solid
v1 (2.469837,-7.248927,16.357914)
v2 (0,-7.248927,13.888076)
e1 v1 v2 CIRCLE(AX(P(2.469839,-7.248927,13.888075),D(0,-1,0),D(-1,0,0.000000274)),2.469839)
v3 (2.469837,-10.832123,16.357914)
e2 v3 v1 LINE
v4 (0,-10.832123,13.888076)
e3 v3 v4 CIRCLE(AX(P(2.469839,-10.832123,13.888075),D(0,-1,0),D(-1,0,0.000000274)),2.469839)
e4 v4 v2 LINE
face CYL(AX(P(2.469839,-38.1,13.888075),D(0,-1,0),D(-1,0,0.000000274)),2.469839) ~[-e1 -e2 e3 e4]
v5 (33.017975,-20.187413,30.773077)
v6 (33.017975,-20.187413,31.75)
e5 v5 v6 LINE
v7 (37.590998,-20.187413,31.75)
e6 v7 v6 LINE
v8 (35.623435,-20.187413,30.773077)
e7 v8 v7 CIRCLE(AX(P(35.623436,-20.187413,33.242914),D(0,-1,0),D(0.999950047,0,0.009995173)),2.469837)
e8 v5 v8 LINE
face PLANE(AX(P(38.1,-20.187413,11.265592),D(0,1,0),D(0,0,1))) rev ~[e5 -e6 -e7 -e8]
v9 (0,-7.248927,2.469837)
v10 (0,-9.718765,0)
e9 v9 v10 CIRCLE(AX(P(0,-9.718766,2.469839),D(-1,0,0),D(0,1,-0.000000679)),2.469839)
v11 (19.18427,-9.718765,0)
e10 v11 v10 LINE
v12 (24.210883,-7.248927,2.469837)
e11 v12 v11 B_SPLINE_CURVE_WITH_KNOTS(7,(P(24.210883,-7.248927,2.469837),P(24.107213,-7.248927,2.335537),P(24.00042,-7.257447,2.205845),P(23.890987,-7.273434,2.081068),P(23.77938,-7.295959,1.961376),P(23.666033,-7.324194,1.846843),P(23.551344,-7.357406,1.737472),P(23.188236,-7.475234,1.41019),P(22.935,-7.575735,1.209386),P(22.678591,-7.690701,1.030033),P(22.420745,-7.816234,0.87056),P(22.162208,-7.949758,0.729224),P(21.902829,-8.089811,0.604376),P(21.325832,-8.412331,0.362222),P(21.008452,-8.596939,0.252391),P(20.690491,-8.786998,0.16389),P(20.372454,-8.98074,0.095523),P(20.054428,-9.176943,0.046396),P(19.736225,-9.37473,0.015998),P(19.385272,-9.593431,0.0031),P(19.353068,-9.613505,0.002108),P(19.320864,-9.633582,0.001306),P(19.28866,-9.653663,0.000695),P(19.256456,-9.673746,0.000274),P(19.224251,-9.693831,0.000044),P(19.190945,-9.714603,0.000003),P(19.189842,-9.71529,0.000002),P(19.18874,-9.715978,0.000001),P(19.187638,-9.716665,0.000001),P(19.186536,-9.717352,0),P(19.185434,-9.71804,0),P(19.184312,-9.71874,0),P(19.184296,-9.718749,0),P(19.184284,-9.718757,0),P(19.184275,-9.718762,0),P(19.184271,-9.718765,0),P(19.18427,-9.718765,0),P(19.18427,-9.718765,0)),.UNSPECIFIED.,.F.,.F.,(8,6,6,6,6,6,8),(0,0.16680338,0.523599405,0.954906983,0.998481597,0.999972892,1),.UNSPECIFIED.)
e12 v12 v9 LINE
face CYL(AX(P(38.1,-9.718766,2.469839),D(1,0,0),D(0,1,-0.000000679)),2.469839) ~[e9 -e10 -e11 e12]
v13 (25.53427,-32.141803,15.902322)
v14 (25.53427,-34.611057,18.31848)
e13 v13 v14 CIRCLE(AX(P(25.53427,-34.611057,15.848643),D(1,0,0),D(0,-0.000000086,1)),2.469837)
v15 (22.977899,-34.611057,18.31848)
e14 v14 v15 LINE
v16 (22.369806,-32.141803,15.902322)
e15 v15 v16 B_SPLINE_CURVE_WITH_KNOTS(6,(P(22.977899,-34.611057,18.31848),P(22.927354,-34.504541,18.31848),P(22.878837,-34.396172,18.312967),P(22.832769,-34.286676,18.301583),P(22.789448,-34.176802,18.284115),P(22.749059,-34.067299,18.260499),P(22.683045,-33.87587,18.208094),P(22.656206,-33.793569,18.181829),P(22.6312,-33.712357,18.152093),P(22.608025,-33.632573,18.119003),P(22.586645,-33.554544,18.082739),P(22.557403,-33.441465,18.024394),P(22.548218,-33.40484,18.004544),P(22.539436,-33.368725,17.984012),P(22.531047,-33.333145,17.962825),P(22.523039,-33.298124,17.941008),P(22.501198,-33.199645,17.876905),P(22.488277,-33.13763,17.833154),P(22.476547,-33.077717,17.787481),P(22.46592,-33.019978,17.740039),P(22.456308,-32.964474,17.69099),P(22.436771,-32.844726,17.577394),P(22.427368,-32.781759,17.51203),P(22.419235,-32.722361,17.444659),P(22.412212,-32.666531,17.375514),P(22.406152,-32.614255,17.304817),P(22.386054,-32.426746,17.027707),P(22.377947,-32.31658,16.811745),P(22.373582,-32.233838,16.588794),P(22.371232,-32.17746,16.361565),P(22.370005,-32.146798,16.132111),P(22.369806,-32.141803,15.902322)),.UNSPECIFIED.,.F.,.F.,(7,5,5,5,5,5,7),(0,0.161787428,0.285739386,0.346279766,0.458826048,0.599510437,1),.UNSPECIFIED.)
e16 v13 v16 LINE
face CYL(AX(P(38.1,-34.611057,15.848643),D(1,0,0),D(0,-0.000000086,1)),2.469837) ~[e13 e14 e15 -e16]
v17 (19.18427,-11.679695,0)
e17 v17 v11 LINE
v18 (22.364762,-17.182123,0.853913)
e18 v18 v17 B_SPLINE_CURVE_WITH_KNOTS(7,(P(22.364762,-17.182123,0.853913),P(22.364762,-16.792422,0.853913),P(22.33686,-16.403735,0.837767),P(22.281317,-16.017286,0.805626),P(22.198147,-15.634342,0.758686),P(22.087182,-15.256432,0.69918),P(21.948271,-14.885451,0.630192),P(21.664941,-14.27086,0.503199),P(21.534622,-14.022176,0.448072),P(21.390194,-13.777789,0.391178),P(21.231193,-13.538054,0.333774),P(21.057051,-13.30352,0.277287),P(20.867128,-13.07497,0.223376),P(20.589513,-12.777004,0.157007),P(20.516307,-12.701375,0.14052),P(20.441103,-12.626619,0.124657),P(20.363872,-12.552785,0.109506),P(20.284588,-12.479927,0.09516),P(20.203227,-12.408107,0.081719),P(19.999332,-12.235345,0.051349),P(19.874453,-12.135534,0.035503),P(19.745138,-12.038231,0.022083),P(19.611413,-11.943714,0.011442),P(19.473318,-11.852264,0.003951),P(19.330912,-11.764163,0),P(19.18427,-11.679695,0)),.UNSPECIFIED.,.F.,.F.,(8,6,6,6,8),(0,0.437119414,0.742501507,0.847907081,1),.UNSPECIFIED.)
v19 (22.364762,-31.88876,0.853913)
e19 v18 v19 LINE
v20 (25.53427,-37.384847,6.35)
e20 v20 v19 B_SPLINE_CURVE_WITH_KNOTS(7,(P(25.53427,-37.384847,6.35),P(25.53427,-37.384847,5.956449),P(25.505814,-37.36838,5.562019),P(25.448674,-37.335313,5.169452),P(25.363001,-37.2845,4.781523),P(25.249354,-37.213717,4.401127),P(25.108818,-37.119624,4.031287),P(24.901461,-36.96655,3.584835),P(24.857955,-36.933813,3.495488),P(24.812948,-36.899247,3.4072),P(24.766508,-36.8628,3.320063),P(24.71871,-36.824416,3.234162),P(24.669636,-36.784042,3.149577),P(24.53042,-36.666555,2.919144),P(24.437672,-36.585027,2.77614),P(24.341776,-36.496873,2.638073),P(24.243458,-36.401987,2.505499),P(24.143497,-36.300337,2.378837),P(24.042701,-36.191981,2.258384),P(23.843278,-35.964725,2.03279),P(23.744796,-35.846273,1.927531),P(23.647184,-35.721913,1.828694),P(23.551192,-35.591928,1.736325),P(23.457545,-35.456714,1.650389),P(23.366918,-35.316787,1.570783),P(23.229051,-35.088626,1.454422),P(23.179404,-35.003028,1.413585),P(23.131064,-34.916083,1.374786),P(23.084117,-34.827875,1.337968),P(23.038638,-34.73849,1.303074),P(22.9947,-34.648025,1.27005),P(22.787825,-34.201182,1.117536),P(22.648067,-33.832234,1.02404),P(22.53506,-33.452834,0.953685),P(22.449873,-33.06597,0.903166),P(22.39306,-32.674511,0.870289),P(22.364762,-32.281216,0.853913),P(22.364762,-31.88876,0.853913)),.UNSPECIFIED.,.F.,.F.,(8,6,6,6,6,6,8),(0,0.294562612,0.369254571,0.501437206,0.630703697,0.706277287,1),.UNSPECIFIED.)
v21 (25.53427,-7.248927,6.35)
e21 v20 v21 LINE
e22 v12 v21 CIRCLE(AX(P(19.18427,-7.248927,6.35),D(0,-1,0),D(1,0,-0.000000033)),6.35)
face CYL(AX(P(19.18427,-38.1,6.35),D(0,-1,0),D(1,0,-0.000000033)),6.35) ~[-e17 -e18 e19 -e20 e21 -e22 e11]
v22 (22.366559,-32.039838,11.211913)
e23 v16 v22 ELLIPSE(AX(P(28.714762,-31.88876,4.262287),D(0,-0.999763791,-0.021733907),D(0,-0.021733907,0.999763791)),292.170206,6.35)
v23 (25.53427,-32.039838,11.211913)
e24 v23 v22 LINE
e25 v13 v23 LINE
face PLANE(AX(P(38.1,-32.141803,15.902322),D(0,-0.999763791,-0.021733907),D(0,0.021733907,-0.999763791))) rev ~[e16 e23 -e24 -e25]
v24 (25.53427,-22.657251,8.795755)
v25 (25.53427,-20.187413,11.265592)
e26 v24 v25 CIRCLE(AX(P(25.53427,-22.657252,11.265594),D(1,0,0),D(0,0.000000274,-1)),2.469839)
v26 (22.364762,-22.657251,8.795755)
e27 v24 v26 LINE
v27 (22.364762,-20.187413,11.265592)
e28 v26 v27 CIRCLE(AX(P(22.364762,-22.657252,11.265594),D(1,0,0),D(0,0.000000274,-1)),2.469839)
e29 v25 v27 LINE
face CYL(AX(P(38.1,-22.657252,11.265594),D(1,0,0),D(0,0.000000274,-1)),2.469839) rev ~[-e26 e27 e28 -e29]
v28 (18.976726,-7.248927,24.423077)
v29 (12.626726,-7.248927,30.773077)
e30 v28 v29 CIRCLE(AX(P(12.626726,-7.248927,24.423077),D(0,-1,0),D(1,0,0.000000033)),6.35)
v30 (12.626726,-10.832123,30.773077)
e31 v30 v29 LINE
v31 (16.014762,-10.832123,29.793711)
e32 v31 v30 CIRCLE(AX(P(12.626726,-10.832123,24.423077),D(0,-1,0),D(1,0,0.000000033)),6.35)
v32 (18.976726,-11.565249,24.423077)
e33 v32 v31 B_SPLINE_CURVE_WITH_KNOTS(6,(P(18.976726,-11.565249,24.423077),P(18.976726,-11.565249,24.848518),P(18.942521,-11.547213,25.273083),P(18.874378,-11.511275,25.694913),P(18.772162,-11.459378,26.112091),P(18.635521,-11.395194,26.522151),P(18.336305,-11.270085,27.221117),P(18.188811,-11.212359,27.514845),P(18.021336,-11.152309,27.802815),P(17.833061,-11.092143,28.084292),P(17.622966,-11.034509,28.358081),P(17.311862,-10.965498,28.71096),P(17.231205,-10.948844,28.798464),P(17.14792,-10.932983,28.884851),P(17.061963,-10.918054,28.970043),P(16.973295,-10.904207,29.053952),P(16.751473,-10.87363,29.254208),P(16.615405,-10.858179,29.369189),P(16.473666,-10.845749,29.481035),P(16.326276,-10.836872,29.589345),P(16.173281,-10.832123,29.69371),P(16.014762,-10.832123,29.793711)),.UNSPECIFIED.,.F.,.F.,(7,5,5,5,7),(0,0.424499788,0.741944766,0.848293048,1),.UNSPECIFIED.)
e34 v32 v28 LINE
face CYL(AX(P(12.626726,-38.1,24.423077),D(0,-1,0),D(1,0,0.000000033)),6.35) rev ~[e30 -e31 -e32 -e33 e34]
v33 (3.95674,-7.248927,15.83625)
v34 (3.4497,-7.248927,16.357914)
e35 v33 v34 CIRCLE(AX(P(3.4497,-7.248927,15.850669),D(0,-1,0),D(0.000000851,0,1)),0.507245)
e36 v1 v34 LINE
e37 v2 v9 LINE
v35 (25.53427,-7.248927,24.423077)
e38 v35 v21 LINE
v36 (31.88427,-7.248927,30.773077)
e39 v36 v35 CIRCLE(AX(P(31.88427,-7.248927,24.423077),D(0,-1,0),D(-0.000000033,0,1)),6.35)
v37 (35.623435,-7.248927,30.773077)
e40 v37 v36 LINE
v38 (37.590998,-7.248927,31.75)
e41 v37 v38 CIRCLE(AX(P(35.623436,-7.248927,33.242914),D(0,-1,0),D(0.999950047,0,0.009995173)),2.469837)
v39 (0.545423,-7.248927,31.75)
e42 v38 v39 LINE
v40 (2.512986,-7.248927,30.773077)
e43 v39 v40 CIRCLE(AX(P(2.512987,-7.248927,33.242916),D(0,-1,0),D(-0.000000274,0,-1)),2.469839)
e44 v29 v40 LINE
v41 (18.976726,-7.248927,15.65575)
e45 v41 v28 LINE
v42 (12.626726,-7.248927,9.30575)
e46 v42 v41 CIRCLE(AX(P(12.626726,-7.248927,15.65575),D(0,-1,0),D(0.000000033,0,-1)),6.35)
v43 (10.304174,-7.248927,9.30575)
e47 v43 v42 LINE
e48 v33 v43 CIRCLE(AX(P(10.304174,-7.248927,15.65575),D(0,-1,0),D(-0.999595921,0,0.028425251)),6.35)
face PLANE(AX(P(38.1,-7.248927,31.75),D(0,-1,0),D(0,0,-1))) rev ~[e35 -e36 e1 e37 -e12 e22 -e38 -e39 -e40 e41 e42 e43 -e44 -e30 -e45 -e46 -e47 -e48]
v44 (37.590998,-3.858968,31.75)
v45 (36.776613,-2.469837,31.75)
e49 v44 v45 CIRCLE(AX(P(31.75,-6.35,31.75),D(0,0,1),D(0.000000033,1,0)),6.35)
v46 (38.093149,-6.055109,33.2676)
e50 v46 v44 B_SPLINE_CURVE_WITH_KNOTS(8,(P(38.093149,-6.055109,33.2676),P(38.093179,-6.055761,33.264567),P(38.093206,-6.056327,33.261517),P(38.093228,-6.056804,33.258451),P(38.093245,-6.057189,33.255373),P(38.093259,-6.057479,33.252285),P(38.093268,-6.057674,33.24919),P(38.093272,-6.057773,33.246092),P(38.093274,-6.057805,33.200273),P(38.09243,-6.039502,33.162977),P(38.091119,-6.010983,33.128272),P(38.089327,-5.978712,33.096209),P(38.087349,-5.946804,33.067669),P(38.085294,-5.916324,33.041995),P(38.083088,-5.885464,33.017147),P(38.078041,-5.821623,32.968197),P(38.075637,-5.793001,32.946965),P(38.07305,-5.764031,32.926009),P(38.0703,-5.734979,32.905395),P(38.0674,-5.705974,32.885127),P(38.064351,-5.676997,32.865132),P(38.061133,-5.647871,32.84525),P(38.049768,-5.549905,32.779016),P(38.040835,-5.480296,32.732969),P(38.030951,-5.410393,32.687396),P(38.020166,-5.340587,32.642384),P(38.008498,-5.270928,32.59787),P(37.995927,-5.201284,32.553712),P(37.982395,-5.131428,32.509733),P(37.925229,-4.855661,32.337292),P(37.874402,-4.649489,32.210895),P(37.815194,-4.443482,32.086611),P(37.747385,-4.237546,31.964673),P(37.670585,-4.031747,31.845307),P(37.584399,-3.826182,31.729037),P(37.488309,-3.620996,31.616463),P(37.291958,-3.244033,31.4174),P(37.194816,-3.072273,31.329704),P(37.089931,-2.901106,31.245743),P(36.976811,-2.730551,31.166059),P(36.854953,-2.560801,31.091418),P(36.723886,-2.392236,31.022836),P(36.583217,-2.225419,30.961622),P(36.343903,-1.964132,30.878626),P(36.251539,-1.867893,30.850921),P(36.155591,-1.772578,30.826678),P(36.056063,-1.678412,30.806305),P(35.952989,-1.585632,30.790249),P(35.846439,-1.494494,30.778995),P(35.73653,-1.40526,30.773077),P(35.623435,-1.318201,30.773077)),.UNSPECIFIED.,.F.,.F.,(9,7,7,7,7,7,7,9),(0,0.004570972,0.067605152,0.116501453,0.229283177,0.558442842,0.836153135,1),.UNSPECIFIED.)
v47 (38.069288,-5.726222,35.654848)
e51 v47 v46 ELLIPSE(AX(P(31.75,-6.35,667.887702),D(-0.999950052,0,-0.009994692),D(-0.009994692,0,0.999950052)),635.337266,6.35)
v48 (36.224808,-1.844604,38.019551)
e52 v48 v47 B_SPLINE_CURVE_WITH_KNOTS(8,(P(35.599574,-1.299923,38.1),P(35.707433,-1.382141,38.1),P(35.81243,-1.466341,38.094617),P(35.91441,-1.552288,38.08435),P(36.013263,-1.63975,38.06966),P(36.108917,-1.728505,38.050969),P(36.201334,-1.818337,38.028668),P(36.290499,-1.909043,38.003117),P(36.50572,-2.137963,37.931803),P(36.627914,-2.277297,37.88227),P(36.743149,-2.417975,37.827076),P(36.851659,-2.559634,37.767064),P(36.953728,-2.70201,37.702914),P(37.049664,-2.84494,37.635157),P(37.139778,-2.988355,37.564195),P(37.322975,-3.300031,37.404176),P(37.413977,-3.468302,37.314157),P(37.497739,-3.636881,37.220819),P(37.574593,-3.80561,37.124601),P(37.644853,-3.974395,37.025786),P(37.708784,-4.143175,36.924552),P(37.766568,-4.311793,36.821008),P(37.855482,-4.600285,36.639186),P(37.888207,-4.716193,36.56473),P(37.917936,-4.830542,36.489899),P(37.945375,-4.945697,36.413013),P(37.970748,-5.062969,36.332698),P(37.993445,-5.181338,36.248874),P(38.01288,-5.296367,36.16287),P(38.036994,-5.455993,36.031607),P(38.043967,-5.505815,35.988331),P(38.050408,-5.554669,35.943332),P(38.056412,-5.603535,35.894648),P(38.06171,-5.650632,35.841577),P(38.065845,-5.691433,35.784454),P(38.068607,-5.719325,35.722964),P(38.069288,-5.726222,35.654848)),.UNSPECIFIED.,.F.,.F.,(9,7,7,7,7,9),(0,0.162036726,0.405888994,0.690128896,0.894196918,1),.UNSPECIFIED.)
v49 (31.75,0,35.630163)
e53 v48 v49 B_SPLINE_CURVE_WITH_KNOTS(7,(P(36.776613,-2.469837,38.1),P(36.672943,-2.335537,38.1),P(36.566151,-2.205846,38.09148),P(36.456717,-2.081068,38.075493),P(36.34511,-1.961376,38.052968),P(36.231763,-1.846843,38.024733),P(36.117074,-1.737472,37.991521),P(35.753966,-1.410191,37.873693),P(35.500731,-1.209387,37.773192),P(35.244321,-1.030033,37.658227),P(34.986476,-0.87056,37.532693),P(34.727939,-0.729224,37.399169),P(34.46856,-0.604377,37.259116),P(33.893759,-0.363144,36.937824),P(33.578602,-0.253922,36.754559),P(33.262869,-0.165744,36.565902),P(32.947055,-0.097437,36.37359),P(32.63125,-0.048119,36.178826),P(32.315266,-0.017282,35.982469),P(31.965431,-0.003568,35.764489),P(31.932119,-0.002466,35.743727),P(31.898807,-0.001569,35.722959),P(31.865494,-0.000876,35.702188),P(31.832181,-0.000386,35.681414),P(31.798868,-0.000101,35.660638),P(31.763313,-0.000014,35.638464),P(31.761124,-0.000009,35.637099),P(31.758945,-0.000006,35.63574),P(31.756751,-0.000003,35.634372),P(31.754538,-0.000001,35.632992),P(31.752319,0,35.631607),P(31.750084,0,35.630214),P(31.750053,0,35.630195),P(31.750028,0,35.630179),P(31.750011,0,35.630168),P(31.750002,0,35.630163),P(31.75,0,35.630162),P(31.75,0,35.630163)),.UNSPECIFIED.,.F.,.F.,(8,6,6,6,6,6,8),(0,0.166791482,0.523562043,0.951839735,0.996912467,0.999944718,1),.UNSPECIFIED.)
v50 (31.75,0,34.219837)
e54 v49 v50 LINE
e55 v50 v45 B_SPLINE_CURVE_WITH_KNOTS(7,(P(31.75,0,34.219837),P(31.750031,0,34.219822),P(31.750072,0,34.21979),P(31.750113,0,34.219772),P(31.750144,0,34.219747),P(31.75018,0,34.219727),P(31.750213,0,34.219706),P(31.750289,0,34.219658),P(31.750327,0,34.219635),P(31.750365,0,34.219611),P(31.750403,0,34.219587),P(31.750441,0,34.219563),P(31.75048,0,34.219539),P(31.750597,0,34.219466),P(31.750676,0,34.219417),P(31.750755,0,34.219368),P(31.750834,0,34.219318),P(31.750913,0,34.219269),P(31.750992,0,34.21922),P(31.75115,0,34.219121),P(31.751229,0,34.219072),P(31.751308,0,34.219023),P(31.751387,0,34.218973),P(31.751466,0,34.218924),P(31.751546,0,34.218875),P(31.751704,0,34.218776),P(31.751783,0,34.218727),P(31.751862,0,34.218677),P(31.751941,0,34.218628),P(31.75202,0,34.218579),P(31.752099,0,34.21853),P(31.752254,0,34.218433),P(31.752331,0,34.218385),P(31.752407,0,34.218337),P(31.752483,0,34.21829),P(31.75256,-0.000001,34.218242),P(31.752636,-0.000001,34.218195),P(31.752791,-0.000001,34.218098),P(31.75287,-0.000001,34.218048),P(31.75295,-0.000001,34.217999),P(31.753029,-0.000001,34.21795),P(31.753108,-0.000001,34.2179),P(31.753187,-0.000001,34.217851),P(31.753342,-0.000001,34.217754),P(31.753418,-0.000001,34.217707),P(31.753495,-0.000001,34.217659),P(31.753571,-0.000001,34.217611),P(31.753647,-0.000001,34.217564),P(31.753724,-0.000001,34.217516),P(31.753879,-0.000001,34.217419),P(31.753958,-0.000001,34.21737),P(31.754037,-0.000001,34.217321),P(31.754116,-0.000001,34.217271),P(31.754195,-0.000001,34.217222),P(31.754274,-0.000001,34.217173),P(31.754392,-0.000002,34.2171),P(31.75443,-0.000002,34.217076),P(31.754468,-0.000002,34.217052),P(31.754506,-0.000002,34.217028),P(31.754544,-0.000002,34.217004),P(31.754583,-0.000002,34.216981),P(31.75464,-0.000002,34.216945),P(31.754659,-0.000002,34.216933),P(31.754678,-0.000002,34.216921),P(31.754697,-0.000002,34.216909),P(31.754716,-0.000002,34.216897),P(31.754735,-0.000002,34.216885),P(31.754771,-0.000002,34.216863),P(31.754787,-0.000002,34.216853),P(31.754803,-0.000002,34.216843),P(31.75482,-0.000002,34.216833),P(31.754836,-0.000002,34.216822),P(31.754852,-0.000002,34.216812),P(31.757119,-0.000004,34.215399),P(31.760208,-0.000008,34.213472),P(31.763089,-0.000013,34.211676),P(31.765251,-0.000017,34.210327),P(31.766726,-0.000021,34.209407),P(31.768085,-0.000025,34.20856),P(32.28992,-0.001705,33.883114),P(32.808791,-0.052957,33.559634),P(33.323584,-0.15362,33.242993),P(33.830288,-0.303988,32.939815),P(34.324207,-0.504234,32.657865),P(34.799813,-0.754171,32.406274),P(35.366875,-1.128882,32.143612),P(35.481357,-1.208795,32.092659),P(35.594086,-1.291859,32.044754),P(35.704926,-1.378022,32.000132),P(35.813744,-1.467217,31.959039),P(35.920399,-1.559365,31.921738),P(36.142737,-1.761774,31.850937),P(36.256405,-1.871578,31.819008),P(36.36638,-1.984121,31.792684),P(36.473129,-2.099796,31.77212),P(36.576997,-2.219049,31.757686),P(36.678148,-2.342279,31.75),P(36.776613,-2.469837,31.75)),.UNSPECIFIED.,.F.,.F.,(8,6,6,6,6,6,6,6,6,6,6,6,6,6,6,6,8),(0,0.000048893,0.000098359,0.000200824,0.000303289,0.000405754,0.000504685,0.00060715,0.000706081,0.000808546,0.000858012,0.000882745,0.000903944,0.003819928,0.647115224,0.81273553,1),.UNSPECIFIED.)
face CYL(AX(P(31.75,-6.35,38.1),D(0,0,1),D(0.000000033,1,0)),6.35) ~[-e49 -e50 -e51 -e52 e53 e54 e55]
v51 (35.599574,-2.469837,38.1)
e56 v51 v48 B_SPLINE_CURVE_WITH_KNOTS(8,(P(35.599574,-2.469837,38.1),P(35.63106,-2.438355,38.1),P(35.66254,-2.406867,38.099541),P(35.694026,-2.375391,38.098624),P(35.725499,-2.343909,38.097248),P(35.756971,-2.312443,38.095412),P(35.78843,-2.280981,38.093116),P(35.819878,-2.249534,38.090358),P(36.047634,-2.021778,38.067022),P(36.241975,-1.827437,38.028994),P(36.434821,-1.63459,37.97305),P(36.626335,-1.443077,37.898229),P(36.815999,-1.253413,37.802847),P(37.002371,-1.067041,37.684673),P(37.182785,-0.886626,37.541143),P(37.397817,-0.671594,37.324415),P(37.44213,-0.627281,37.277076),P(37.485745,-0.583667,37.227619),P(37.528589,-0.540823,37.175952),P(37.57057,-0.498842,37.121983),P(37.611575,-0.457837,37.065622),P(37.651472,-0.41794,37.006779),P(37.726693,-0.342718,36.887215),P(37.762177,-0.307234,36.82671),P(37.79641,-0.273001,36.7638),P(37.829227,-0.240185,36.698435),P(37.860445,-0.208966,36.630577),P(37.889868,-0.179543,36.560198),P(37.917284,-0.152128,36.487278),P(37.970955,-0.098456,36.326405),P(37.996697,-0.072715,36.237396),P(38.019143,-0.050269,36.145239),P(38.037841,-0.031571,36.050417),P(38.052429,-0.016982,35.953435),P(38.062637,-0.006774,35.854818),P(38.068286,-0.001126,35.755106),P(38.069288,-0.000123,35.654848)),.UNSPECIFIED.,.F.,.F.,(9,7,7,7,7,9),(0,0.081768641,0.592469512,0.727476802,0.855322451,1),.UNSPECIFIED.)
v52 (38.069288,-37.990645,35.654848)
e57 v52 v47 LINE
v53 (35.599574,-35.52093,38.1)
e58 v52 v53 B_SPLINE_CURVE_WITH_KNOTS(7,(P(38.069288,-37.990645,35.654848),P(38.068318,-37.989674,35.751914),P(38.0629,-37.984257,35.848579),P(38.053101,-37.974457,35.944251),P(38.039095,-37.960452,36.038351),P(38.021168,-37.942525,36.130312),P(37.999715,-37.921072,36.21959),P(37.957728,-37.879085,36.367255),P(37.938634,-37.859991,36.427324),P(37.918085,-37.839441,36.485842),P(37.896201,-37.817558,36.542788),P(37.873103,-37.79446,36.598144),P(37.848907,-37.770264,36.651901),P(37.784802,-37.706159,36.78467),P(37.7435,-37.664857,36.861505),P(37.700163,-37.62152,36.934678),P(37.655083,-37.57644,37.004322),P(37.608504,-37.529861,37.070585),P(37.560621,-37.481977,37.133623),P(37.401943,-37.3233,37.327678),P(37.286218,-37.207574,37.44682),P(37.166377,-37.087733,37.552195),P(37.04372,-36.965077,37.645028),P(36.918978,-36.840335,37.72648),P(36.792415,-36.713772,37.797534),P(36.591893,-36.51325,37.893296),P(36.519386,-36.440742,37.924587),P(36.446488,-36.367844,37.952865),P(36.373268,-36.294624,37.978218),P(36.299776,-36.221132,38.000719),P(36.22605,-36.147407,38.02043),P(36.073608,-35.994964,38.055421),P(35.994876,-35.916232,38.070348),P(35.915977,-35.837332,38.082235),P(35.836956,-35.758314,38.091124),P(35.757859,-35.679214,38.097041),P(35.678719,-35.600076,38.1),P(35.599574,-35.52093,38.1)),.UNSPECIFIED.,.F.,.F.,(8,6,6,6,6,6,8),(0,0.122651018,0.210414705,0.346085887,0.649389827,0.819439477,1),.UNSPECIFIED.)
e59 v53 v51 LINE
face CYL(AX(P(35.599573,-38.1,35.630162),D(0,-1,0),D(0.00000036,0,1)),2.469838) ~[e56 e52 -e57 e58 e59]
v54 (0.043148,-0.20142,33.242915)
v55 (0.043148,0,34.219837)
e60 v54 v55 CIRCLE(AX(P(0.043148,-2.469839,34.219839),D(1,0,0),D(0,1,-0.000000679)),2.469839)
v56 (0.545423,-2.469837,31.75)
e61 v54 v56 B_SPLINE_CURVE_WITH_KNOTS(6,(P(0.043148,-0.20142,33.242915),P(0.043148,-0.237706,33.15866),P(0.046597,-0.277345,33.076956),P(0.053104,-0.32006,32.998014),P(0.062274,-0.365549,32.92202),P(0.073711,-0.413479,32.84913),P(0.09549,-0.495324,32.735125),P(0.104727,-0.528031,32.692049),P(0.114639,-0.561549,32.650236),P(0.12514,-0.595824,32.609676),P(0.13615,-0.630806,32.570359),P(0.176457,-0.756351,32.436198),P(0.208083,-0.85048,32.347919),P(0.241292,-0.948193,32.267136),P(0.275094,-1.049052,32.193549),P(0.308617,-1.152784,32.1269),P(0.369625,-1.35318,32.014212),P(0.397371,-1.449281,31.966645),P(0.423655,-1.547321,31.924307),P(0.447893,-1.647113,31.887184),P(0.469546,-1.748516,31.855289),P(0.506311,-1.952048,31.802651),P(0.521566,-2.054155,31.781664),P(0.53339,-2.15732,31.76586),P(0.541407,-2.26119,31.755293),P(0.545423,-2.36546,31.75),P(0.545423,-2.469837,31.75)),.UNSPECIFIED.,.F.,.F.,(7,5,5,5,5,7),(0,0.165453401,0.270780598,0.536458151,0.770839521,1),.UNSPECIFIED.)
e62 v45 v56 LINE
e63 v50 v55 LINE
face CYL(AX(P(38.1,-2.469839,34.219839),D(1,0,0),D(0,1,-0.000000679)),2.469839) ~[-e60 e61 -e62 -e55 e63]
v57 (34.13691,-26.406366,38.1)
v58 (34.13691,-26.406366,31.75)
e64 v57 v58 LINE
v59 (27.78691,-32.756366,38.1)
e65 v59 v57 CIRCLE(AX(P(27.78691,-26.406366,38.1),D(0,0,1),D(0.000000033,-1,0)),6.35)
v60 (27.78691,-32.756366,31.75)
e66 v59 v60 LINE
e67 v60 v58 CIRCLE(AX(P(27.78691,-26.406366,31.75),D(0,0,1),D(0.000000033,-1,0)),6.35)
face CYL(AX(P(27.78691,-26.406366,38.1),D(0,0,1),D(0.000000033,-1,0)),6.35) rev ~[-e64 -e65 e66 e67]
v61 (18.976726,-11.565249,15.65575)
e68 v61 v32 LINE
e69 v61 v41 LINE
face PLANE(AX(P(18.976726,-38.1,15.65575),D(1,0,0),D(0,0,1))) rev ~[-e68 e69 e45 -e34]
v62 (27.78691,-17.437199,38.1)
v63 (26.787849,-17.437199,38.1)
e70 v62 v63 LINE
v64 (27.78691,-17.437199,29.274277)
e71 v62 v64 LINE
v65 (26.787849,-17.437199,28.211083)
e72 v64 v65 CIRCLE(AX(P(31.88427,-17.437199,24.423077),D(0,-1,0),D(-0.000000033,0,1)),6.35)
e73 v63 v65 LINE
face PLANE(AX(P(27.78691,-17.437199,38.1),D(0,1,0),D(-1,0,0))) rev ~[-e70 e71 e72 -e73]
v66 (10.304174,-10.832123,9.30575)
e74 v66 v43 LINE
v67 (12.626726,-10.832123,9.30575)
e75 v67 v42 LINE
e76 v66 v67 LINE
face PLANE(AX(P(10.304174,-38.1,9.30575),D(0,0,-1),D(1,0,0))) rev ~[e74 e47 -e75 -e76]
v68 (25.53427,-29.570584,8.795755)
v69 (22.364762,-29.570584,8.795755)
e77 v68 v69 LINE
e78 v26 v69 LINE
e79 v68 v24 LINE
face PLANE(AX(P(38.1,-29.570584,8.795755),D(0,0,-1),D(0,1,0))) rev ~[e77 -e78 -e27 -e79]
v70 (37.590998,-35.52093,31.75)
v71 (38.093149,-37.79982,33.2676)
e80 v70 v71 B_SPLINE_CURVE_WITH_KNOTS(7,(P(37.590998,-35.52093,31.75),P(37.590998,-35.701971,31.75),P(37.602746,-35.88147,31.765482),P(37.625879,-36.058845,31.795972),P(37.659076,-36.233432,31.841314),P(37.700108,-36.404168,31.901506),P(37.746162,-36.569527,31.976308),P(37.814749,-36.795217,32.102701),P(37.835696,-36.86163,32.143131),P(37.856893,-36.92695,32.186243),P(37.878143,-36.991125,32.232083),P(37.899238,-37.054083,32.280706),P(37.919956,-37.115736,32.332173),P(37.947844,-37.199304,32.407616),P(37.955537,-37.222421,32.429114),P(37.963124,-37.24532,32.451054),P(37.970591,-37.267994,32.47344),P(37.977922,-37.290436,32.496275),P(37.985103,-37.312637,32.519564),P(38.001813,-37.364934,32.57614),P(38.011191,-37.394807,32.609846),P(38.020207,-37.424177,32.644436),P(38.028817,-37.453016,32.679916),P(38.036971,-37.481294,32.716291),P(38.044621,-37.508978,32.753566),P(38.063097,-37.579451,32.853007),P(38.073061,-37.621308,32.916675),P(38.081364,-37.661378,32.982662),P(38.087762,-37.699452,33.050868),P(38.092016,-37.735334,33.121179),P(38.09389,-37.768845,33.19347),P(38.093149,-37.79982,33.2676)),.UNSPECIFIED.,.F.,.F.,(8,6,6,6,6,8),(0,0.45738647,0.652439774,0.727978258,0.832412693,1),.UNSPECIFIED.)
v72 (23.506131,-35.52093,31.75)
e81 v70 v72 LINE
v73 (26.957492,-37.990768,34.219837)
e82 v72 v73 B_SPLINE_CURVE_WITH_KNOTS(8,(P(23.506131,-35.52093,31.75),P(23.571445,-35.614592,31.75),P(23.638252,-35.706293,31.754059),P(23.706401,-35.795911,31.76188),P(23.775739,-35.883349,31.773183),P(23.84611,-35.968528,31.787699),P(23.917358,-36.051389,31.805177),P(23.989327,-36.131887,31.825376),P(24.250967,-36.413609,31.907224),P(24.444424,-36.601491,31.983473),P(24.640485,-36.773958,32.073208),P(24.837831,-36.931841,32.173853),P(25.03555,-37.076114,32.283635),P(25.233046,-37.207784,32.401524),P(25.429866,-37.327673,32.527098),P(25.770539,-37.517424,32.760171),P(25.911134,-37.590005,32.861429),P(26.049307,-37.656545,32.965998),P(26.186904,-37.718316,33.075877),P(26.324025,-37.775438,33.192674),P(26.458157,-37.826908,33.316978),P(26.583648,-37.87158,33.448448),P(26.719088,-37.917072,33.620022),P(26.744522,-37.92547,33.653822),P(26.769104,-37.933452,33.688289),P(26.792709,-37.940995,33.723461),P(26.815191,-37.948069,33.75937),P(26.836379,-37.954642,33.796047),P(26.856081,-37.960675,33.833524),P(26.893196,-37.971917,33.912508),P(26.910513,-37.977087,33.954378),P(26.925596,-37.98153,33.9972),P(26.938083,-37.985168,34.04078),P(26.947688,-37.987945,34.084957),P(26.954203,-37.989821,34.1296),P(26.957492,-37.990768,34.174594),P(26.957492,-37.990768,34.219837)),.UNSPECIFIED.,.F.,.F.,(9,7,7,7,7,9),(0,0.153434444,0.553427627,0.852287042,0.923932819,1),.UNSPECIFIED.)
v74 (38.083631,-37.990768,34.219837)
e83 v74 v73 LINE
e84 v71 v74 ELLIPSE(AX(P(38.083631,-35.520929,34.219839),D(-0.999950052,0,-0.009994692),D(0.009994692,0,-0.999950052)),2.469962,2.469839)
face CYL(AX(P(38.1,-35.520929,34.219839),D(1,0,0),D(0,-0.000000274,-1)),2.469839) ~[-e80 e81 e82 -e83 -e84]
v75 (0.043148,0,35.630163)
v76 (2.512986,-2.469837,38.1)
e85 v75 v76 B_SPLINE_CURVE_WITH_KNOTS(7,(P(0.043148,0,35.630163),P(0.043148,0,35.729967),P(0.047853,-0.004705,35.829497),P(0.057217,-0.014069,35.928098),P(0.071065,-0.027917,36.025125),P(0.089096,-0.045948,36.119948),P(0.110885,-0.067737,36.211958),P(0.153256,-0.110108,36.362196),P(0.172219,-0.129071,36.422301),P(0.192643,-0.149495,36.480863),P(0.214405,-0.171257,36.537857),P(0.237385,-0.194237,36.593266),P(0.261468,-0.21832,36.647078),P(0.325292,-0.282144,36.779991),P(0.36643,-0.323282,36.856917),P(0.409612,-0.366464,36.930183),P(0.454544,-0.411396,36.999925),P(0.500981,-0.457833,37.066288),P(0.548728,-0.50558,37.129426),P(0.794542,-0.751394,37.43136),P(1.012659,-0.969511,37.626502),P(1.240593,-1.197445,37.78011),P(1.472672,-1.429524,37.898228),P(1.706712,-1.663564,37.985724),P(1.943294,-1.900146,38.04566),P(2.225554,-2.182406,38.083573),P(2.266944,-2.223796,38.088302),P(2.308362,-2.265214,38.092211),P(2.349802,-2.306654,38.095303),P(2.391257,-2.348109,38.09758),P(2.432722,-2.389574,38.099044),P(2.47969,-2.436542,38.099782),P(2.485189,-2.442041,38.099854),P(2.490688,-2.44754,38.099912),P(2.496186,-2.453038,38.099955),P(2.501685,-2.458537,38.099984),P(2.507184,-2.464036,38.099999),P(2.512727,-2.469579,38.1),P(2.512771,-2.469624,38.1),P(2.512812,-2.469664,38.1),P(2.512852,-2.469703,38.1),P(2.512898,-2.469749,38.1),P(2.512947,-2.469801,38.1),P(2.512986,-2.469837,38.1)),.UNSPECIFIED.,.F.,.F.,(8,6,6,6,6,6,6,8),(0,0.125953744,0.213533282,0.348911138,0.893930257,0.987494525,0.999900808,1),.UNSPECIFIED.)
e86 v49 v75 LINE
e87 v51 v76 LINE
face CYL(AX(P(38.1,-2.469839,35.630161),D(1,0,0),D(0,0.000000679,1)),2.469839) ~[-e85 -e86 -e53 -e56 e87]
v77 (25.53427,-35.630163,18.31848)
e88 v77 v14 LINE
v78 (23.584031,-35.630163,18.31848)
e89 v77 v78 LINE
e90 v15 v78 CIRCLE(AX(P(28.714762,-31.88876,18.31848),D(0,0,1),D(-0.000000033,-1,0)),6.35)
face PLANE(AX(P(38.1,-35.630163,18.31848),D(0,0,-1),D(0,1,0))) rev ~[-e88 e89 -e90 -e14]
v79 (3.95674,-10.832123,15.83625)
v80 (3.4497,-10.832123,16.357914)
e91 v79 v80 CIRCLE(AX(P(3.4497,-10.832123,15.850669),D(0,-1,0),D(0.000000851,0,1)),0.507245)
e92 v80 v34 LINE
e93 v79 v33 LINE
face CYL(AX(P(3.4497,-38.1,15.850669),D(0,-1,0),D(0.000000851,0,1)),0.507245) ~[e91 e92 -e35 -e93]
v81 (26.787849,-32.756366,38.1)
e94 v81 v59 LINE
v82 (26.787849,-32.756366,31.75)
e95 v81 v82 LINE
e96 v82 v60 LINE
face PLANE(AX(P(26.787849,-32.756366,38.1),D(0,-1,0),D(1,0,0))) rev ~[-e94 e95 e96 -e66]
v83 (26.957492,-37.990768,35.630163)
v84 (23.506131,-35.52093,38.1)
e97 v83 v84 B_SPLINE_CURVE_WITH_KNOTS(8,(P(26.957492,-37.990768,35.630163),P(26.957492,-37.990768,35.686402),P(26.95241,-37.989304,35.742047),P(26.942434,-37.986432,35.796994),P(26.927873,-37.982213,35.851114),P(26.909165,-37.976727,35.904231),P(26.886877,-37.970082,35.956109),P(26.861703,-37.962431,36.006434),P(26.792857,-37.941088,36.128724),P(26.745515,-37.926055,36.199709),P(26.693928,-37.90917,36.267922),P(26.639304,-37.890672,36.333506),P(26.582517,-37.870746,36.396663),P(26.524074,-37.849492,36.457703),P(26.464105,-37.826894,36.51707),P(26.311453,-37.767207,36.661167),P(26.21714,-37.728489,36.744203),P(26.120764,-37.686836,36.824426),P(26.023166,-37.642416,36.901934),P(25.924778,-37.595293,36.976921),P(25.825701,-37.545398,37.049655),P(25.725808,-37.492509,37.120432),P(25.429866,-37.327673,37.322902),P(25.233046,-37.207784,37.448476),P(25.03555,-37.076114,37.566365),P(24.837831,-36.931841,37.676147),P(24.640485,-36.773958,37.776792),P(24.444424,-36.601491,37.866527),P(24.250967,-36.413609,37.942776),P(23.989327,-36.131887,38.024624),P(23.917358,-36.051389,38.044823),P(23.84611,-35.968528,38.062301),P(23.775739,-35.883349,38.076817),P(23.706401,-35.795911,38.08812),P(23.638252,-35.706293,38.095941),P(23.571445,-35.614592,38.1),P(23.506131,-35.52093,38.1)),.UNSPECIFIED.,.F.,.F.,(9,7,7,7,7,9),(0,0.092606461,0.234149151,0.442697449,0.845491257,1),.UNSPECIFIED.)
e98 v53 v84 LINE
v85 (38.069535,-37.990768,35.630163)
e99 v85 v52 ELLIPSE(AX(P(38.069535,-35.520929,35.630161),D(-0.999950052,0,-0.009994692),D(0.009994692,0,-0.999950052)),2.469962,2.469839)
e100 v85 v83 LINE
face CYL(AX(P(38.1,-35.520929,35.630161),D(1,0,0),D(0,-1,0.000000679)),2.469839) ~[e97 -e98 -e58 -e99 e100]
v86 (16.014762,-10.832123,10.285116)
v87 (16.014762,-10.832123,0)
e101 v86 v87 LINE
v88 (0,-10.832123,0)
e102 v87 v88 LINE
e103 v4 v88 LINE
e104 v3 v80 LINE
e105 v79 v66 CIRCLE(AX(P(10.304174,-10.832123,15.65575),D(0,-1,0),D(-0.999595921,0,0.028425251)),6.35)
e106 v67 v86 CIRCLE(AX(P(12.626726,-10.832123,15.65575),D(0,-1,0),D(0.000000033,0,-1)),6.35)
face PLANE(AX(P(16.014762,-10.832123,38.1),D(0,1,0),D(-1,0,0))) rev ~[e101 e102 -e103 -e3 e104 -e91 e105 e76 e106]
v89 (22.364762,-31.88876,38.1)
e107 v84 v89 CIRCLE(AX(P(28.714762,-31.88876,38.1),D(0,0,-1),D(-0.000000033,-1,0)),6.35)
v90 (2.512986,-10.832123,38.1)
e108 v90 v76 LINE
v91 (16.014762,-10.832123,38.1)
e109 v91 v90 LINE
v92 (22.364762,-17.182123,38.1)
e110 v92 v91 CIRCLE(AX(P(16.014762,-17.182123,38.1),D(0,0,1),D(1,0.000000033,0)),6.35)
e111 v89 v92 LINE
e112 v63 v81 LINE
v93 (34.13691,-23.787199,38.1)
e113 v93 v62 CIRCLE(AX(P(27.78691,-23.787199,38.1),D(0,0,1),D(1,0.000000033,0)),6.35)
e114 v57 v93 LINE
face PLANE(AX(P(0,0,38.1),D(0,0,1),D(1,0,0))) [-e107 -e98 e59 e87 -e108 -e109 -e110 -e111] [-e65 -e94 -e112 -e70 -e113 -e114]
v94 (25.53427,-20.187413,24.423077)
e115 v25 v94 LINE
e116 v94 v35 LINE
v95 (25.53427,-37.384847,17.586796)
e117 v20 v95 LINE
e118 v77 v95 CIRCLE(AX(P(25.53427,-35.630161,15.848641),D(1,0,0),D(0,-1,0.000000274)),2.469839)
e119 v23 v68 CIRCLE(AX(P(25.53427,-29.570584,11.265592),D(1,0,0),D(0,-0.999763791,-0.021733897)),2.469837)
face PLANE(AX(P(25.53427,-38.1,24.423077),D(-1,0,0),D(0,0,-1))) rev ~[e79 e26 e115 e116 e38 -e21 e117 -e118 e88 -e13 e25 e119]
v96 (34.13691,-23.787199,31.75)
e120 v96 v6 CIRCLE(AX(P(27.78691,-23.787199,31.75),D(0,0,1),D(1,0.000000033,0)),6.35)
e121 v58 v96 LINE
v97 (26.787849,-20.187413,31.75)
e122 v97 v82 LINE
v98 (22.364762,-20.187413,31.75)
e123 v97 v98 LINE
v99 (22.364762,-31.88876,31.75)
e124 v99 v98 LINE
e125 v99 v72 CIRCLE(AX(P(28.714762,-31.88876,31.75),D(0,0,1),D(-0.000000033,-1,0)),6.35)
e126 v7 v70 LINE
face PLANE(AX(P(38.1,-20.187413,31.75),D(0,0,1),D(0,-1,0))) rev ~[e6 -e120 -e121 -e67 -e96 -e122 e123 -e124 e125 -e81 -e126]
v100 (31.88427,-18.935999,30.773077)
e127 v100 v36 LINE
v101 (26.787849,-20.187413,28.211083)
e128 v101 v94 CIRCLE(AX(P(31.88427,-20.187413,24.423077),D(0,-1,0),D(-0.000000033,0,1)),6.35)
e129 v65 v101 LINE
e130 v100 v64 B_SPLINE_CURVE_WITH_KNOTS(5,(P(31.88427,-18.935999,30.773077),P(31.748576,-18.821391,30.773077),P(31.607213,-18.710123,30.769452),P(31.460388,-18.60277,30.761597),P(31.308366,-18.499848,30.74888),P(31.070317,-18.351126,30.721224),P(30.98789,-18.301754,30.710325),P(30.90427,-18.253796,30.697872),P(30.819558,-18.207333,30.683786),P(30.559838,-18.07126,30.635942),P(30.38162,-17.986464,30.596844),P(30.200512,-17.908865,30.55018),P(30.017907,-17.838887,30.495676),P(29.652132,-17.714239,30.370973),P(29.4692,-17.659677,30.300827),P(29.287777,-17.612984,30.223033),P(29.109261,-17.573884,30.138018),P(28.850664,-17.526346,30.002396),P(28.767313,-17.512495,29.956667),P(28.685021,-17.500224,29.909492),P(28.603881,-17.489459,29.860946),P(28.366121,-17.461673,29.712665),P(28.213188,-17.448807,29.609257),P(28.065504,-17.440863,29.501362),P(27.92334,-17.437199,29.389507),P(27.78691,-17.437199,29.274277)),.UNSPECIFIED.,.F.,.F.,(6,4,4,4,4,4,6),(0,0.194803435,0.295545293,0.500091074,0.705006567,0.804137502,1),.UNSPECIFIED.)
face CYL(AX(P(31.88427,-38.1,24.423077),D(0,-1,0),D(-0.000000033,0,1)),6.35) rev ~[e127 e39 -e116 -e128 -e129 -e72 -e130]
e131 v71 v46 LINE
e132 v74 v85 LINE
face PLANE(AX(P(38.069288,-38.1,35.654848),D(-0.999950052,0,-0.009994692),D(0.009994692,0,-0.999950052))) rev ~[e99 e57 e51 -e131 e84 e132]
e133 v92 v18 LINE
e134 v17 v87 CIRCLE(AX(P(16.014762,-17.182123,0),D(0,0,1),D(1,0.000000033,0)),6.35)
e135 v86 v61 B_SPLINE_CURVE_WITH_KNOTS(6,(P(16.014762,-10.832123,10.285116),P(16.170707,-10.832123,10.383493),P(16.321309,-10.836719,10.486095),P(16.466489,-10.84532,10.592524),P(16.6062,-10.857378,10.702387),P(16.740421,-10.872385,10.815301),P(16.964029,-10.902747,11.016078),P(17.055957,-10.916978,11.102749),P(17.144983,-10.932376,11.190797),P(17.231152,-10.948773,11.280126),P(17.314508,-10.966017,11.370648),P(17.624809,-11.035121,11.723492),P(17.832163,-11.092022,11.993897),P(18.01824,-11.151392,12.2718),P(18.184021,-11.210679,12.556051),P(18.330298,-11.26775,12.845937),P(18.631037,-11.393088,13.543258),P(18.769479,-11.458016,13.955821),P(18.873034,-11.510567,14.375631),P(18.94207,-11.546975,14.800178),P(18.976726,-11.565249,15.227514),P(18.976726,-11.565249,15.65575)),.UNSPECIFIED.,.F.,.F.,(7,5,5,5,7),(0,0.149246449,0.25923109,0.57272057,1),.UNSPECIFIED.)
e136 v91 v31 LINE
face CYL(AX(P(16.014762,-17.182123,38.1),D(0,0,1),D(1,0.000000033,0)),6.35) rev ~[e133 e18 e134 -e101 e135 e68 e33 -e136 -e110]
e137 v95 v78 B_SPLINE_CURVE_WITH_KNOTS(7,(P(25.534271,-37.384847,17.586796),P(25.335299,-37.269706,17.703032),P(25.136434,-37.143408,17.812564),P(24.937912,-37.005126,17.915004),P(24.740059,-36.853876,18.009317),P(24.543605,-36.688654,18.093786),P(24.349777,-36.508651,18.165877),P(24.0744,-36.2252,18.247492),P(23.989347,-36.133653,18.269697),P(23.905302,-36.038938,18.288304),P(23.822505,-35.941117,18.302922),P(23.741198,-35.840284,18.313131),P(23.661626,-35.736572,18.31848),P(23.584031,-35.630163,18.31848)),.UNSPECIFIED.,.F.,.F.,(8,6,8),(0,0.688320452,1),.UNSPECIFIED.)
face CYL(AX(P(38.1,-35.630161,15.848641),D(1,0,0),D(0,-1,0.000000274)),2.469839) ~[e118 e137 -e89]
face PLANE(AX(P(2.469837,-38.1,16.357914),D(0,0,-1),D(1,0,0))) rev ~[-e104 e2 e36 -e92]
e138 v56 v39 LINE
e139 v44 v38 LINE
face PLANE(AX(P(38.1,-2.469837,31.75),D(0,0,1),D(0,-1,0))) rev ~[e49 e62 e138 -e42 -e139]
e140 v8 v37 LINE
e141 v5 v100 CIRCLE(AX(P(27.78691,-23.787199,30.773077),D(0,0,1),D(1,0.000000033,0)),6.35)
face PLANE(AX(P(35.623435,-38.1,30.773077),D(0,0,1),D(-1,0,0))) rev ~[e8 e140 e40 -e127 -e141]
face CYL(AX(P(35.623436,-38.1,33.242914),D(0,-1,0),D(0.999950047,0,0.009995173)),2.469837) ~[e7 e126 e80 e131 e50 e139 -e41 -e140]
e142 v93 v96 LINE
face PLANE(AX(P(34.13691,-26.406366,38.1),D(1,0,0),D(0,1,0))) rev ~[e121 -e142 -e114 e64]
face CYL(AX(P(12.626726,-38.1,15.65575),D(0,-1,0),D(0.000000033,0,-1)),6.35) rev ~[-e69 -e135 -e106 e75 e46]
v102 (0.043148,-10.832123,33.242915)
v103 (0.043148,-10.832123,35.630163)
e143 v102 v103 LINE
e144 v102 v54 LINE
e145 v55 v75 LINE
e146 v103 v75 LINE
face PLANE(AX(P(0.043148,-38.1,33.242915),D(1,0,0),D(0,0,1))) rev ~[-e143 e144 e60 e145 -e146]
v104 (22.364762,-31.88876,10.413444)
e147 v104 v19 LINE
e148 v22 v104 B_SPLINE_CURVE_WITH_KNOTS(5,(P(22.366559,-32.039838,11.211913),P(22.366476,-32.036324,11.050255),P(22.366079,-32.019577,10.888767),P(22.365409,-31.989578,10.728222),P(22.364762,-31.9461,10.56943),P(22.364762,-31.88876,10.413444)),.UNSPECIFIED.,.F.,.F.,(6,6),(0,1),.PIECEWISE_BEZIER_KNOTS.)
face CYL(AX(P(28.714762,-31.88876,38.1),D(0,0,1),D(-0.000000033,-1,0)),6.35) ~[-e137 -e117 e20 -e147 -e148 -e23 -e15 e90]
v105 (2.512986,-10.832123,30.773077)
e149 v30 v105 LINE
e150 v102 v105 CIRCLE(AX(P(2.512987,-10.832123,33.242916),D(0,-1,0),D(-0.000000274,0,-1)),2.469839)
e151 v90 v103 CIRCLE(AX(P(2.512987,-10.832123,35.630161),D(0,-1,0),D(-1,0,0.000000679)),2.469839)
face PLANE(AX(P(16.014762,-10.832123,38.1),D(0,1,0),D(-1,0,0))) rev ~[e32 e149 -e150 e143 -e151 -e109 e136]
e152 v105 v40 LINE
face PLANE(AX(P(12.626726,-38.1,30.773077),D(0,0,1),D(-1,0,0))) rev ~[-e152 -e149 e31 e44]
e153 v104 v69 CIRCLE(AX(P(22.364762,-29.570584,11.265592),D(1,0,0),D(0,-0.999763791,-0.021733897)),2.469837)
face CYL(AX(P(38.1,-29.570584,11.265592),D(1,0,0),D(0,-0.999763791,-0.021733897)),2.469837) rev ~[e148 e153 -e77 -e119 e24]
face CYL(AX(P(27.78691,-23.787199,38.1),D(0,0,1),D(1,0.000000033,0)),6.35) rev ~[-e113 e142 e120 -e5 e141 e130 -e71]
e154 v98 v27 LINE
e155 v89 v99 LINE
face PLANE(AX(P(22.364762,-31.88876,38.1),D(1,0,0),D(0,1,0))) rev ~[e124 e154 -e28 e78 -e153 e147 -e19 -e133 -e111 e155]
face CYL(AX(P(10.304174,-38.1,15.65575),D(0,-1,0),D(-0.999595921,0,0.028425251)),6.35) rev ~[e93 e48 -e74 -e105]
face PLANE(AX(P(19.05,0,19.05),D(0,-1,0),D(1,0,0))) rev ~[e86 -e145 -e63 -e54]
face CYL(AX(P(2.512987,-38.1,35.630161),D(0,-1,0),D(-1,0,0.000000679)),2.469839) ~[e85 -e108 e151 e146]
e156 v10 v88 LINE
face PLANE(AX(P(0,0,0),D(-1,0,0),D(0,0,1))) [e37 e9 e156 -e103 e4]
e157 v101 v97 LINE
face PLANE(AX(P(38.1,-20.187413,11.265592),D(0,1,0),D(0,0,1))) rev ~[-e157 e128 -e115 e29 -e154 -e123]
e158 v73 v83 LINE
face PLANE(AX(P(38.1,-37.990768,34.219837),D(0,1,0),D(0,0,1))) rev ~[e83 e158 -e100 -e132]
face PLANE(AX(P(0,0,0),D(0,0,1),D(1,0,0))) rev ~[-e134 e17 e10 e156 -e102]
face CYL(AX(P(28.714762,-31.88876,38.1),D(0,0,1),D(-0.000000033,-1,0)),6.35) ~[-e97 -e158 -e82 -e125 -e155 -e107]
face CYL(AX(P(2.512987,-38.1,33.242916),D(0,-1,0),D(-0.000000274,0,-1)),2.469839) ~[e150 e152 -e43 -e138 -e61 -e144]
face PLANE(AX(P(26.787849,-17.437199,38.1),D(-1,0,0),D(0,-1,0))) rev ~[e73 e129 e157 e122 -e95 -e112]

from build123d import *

# Parameters (mm, degrees)
F0_W      = 38.1
F0_H      = 38.1
F1_DEPTH  = 38.1
F7_DEPTH  = 38.1
F8_DEPTH  = 38.1
F10_DEPTH = 38.1


with BuildPart() as f1:
    # F0 (on Front) → F1 (new body)
    with BuildSketch(Plane.XZ):
        with Locations((19.05, 19.05)):
            Rectangle(F0_W, F0_H)
    extrude(amount=F1_DEPTH)

    # F6 (on offset) → F7 (cut)
    with BuildSketch(Plane.YZ.offset(38.1)):
        with BuildLine():
            Line((-20.187413, 31.75), (-29.192599, 31.75))
            Line((-29.192599, 31.75), (-35.52093, 31.75))
            ThreePointArc((-35.52093, 31.75), (-37.267369, 32.473399), (-37.990768, 34.219837))
            Line((-37.990768, 34.219837), (-37.990768, 35.630163))
            ThreePointArc((-37.990768, 35.630163), (-37.267369, 37.376601), (-35.52093, 38.1))
            Line((-35.52093, 38.1), (-38.1, 38.1))
            Line((-38.1, 38.1), (-38.1, 15.848642))
            ThreePointArc((-38.1, 15.848642), (-37.376601, 17.595081), (-35.630163, 18.31848))
            Line((-35.630163, 18.31848), (-34.611057, 18.31848))
            ThreePointArc((-34.611057, 18.31848), (-32.883701, 17.613958), (-32.141803, 15.902322))
            Line((-32.141803, 15.902322), (-32.039838, 11.211913))
            ThreePointArc((-32.039838, 11.211913), (-31.29794, 9.500277), (-29.570584, 8.795755))
            Line((-29.570584, 8.795755), (-22.657251, 8.795755))
            ThreePointArc((-22.657251, 8.795755), (-20.910812, 9.519154), (-20.187413, 11.265592))
            Line((-20.187413, 11.265592), (-20.187413, 31.75))
        make_face()
        with BuildLine():
            Line((0, 0), (0, 34.219837))
            ThreePointArc((0, 34.219837), (-0.723399, 32.473399), (-2.469837, 31.75))
            Line((-2.469837, 31.75), (-7.248927, 31.75))
            Line((-7.248927, 31.75), (-7.248927, 2.469837))
            ThreePointArc((-7.248927, 2.469837), (-7.972326, 0.723399), (-9.718765, 0))
            Line((-9.718765, 0), (0, 0))
        make_face()
        with BuildLine():
            Line((0, 38.1), (-2.469837, 38.1))
            ThreePointArc((-2.469837, 38.1), (-0.723399, 37.376601), (0, 35.630163))
            Line((0, 35.630163), (0, 38.1))
        make_face()
        with BuildLine():
            ThreePointArc((-35.630163, 0), (-37.376601, 0.723399), (-38.1, 2.469837))
            Line((-38.1, 2.469837), (-38.1, 0))
            Line((-38.1, 0), (-35.630163, 0))
        make_face()
    extrude(amount=-F7_DEPTH, mode=Mode.SUBTRACT)

    # F5 (on offset) → F8 (cut)
    with BuildSketch(Plane.XZ.offset(38.1)):
        with BuildLine():
            Line((0, 38.1), (0, 13.888076))
            ThreePointArc((0, 13.888076), (0.723399, 15.634515), (2.469837, 16.357914))
            Line((2.469837, 16.357914), (3.4497, 16.357914))
            ThreePointArc((3.4497, 16.357914), (3.813439, 16.20421), (3.95674, 15.83625))
            ThreePointArc((3.95674, 15.83625), (5.750677, 11.229898), (10.304174, 9.30575))
            Line((10.304174, 9.30575), (11.1735, 9.30575))
            Line((11.1735, 9.30575), (12.626726, 9.30575))
            ThreePointArc((12.626726, 9.30575), (17.116854, 11.165622), (18.976726, 15.65575))
            Line((18.976726, 15.65575), (18.976726, 24.423077))
            ThreePointArc((18.976726, 24.423077), (17.116854, 28.913205), (12.626726, 30.773077))
            Line((12.626726, 30.773077), (12.052785, 30.773077))
            Line((12.052785, 30.773077), (2.512986, 30.773077))
            ThreePointArc((2.512986, 30.773077), (0.766547, 31.496476), (0.043148, 33.242915))
            Line((0.043148, 33.242915), (0.043148, 35.630163))
            ThreePointArc((0.043148, 35.630163), (0.766547, 37.376601), (2.512986, 38.1))
            Line((2.512986, 38.1), (0, 38.1))
        make_face()
        with BuildLine():
            ThreePointArc((25.53427, 6.35), (23.674398, 1.859872), (19.18427, 0))
            Line((19.18427, 0), (38.1, 0))
            Line((38.1, 0), (38.1, 38.1))
            Line((38.1, 38.1), (35.599574, 38.1))
            ThreePointArc((35.599574, 38.1), (37.337263, 37.385307), (38.069288, 35.654848))
            Line((38.069288, 35.654848), (38.093149, 33.2676))
            ThreePointArc((38.093149, 33.2676), (37.37858, 31.505225), (35.623435, 30.773077))
            Line((35.623435, 30.773077), (31.88427, 30.773077))
            ThreePointArc((31.88427, 30.773077), (27.394142, 28.913205), (25.53427, 24.423077))
            Line((25.53427, 24.423077), (25.53427, 6.35))
        make_face()
    extrude(amount=-F8_DEPTH, mode=Mode.SUBTRACT)

    # F9 (on offset) → F10 (cut)
    with BuildSketch(Plane.XY.offset(38.1)):
        with BuildLine():
            Line((27.78691, -17.437199), (26.787849, -17.437199))
            Line((26.787849, -17.437199), (26.787849, -32.756366))
            Line((26.787849, -32.756366), (27.78691, -32.756366))
            ThreePointArc((27.78691, -32.756366), (32.277038, -30.896494), (34.13691, -26.406366))
            Line((34.13691, -26.406366), (34.13691, -23.787199))
            ThreePointArc((34.13691, -23.787199), (32.277038, -19.297071), (27.78691, -17.437199))
        make_face()
        with BuildLine():
            Line((38.1, 0), (31.75, 0))
            ThreePointArc((31.75, 0), (36.240128, -1.859872), (38.1, -6.35))
            Line((38.1, -6.35), (38.1, 0))
        make_face()
        with BuildLine():
            Line((16.014762, -10.832123), (0, -10.832123))
            Line((0, -10.832123), (0, -38.23876))
            Line((0, -38.23876), (0.831124, -38.23876))
            Line((0.831124, -38.23876), (28.714762, -38.23876))
            ThreePointArc((28.714762, -38.23876), (24.224634, -36.378888), (22.364762, -31.88876))
            Line((22.364762, -31.88876), (22.364762, -31.69275))
            Line((22.364762, -31.69275), (22.364762, -17.182123))
            ThreePointArc((22.364762, -17.182123), (20.50489, -12.691995), (16.014762, -10.832123))
        make_face()
    extrude(amount=-F10_DEPTH, mode=Mode.SUBTRACT)


solid = f1.part
